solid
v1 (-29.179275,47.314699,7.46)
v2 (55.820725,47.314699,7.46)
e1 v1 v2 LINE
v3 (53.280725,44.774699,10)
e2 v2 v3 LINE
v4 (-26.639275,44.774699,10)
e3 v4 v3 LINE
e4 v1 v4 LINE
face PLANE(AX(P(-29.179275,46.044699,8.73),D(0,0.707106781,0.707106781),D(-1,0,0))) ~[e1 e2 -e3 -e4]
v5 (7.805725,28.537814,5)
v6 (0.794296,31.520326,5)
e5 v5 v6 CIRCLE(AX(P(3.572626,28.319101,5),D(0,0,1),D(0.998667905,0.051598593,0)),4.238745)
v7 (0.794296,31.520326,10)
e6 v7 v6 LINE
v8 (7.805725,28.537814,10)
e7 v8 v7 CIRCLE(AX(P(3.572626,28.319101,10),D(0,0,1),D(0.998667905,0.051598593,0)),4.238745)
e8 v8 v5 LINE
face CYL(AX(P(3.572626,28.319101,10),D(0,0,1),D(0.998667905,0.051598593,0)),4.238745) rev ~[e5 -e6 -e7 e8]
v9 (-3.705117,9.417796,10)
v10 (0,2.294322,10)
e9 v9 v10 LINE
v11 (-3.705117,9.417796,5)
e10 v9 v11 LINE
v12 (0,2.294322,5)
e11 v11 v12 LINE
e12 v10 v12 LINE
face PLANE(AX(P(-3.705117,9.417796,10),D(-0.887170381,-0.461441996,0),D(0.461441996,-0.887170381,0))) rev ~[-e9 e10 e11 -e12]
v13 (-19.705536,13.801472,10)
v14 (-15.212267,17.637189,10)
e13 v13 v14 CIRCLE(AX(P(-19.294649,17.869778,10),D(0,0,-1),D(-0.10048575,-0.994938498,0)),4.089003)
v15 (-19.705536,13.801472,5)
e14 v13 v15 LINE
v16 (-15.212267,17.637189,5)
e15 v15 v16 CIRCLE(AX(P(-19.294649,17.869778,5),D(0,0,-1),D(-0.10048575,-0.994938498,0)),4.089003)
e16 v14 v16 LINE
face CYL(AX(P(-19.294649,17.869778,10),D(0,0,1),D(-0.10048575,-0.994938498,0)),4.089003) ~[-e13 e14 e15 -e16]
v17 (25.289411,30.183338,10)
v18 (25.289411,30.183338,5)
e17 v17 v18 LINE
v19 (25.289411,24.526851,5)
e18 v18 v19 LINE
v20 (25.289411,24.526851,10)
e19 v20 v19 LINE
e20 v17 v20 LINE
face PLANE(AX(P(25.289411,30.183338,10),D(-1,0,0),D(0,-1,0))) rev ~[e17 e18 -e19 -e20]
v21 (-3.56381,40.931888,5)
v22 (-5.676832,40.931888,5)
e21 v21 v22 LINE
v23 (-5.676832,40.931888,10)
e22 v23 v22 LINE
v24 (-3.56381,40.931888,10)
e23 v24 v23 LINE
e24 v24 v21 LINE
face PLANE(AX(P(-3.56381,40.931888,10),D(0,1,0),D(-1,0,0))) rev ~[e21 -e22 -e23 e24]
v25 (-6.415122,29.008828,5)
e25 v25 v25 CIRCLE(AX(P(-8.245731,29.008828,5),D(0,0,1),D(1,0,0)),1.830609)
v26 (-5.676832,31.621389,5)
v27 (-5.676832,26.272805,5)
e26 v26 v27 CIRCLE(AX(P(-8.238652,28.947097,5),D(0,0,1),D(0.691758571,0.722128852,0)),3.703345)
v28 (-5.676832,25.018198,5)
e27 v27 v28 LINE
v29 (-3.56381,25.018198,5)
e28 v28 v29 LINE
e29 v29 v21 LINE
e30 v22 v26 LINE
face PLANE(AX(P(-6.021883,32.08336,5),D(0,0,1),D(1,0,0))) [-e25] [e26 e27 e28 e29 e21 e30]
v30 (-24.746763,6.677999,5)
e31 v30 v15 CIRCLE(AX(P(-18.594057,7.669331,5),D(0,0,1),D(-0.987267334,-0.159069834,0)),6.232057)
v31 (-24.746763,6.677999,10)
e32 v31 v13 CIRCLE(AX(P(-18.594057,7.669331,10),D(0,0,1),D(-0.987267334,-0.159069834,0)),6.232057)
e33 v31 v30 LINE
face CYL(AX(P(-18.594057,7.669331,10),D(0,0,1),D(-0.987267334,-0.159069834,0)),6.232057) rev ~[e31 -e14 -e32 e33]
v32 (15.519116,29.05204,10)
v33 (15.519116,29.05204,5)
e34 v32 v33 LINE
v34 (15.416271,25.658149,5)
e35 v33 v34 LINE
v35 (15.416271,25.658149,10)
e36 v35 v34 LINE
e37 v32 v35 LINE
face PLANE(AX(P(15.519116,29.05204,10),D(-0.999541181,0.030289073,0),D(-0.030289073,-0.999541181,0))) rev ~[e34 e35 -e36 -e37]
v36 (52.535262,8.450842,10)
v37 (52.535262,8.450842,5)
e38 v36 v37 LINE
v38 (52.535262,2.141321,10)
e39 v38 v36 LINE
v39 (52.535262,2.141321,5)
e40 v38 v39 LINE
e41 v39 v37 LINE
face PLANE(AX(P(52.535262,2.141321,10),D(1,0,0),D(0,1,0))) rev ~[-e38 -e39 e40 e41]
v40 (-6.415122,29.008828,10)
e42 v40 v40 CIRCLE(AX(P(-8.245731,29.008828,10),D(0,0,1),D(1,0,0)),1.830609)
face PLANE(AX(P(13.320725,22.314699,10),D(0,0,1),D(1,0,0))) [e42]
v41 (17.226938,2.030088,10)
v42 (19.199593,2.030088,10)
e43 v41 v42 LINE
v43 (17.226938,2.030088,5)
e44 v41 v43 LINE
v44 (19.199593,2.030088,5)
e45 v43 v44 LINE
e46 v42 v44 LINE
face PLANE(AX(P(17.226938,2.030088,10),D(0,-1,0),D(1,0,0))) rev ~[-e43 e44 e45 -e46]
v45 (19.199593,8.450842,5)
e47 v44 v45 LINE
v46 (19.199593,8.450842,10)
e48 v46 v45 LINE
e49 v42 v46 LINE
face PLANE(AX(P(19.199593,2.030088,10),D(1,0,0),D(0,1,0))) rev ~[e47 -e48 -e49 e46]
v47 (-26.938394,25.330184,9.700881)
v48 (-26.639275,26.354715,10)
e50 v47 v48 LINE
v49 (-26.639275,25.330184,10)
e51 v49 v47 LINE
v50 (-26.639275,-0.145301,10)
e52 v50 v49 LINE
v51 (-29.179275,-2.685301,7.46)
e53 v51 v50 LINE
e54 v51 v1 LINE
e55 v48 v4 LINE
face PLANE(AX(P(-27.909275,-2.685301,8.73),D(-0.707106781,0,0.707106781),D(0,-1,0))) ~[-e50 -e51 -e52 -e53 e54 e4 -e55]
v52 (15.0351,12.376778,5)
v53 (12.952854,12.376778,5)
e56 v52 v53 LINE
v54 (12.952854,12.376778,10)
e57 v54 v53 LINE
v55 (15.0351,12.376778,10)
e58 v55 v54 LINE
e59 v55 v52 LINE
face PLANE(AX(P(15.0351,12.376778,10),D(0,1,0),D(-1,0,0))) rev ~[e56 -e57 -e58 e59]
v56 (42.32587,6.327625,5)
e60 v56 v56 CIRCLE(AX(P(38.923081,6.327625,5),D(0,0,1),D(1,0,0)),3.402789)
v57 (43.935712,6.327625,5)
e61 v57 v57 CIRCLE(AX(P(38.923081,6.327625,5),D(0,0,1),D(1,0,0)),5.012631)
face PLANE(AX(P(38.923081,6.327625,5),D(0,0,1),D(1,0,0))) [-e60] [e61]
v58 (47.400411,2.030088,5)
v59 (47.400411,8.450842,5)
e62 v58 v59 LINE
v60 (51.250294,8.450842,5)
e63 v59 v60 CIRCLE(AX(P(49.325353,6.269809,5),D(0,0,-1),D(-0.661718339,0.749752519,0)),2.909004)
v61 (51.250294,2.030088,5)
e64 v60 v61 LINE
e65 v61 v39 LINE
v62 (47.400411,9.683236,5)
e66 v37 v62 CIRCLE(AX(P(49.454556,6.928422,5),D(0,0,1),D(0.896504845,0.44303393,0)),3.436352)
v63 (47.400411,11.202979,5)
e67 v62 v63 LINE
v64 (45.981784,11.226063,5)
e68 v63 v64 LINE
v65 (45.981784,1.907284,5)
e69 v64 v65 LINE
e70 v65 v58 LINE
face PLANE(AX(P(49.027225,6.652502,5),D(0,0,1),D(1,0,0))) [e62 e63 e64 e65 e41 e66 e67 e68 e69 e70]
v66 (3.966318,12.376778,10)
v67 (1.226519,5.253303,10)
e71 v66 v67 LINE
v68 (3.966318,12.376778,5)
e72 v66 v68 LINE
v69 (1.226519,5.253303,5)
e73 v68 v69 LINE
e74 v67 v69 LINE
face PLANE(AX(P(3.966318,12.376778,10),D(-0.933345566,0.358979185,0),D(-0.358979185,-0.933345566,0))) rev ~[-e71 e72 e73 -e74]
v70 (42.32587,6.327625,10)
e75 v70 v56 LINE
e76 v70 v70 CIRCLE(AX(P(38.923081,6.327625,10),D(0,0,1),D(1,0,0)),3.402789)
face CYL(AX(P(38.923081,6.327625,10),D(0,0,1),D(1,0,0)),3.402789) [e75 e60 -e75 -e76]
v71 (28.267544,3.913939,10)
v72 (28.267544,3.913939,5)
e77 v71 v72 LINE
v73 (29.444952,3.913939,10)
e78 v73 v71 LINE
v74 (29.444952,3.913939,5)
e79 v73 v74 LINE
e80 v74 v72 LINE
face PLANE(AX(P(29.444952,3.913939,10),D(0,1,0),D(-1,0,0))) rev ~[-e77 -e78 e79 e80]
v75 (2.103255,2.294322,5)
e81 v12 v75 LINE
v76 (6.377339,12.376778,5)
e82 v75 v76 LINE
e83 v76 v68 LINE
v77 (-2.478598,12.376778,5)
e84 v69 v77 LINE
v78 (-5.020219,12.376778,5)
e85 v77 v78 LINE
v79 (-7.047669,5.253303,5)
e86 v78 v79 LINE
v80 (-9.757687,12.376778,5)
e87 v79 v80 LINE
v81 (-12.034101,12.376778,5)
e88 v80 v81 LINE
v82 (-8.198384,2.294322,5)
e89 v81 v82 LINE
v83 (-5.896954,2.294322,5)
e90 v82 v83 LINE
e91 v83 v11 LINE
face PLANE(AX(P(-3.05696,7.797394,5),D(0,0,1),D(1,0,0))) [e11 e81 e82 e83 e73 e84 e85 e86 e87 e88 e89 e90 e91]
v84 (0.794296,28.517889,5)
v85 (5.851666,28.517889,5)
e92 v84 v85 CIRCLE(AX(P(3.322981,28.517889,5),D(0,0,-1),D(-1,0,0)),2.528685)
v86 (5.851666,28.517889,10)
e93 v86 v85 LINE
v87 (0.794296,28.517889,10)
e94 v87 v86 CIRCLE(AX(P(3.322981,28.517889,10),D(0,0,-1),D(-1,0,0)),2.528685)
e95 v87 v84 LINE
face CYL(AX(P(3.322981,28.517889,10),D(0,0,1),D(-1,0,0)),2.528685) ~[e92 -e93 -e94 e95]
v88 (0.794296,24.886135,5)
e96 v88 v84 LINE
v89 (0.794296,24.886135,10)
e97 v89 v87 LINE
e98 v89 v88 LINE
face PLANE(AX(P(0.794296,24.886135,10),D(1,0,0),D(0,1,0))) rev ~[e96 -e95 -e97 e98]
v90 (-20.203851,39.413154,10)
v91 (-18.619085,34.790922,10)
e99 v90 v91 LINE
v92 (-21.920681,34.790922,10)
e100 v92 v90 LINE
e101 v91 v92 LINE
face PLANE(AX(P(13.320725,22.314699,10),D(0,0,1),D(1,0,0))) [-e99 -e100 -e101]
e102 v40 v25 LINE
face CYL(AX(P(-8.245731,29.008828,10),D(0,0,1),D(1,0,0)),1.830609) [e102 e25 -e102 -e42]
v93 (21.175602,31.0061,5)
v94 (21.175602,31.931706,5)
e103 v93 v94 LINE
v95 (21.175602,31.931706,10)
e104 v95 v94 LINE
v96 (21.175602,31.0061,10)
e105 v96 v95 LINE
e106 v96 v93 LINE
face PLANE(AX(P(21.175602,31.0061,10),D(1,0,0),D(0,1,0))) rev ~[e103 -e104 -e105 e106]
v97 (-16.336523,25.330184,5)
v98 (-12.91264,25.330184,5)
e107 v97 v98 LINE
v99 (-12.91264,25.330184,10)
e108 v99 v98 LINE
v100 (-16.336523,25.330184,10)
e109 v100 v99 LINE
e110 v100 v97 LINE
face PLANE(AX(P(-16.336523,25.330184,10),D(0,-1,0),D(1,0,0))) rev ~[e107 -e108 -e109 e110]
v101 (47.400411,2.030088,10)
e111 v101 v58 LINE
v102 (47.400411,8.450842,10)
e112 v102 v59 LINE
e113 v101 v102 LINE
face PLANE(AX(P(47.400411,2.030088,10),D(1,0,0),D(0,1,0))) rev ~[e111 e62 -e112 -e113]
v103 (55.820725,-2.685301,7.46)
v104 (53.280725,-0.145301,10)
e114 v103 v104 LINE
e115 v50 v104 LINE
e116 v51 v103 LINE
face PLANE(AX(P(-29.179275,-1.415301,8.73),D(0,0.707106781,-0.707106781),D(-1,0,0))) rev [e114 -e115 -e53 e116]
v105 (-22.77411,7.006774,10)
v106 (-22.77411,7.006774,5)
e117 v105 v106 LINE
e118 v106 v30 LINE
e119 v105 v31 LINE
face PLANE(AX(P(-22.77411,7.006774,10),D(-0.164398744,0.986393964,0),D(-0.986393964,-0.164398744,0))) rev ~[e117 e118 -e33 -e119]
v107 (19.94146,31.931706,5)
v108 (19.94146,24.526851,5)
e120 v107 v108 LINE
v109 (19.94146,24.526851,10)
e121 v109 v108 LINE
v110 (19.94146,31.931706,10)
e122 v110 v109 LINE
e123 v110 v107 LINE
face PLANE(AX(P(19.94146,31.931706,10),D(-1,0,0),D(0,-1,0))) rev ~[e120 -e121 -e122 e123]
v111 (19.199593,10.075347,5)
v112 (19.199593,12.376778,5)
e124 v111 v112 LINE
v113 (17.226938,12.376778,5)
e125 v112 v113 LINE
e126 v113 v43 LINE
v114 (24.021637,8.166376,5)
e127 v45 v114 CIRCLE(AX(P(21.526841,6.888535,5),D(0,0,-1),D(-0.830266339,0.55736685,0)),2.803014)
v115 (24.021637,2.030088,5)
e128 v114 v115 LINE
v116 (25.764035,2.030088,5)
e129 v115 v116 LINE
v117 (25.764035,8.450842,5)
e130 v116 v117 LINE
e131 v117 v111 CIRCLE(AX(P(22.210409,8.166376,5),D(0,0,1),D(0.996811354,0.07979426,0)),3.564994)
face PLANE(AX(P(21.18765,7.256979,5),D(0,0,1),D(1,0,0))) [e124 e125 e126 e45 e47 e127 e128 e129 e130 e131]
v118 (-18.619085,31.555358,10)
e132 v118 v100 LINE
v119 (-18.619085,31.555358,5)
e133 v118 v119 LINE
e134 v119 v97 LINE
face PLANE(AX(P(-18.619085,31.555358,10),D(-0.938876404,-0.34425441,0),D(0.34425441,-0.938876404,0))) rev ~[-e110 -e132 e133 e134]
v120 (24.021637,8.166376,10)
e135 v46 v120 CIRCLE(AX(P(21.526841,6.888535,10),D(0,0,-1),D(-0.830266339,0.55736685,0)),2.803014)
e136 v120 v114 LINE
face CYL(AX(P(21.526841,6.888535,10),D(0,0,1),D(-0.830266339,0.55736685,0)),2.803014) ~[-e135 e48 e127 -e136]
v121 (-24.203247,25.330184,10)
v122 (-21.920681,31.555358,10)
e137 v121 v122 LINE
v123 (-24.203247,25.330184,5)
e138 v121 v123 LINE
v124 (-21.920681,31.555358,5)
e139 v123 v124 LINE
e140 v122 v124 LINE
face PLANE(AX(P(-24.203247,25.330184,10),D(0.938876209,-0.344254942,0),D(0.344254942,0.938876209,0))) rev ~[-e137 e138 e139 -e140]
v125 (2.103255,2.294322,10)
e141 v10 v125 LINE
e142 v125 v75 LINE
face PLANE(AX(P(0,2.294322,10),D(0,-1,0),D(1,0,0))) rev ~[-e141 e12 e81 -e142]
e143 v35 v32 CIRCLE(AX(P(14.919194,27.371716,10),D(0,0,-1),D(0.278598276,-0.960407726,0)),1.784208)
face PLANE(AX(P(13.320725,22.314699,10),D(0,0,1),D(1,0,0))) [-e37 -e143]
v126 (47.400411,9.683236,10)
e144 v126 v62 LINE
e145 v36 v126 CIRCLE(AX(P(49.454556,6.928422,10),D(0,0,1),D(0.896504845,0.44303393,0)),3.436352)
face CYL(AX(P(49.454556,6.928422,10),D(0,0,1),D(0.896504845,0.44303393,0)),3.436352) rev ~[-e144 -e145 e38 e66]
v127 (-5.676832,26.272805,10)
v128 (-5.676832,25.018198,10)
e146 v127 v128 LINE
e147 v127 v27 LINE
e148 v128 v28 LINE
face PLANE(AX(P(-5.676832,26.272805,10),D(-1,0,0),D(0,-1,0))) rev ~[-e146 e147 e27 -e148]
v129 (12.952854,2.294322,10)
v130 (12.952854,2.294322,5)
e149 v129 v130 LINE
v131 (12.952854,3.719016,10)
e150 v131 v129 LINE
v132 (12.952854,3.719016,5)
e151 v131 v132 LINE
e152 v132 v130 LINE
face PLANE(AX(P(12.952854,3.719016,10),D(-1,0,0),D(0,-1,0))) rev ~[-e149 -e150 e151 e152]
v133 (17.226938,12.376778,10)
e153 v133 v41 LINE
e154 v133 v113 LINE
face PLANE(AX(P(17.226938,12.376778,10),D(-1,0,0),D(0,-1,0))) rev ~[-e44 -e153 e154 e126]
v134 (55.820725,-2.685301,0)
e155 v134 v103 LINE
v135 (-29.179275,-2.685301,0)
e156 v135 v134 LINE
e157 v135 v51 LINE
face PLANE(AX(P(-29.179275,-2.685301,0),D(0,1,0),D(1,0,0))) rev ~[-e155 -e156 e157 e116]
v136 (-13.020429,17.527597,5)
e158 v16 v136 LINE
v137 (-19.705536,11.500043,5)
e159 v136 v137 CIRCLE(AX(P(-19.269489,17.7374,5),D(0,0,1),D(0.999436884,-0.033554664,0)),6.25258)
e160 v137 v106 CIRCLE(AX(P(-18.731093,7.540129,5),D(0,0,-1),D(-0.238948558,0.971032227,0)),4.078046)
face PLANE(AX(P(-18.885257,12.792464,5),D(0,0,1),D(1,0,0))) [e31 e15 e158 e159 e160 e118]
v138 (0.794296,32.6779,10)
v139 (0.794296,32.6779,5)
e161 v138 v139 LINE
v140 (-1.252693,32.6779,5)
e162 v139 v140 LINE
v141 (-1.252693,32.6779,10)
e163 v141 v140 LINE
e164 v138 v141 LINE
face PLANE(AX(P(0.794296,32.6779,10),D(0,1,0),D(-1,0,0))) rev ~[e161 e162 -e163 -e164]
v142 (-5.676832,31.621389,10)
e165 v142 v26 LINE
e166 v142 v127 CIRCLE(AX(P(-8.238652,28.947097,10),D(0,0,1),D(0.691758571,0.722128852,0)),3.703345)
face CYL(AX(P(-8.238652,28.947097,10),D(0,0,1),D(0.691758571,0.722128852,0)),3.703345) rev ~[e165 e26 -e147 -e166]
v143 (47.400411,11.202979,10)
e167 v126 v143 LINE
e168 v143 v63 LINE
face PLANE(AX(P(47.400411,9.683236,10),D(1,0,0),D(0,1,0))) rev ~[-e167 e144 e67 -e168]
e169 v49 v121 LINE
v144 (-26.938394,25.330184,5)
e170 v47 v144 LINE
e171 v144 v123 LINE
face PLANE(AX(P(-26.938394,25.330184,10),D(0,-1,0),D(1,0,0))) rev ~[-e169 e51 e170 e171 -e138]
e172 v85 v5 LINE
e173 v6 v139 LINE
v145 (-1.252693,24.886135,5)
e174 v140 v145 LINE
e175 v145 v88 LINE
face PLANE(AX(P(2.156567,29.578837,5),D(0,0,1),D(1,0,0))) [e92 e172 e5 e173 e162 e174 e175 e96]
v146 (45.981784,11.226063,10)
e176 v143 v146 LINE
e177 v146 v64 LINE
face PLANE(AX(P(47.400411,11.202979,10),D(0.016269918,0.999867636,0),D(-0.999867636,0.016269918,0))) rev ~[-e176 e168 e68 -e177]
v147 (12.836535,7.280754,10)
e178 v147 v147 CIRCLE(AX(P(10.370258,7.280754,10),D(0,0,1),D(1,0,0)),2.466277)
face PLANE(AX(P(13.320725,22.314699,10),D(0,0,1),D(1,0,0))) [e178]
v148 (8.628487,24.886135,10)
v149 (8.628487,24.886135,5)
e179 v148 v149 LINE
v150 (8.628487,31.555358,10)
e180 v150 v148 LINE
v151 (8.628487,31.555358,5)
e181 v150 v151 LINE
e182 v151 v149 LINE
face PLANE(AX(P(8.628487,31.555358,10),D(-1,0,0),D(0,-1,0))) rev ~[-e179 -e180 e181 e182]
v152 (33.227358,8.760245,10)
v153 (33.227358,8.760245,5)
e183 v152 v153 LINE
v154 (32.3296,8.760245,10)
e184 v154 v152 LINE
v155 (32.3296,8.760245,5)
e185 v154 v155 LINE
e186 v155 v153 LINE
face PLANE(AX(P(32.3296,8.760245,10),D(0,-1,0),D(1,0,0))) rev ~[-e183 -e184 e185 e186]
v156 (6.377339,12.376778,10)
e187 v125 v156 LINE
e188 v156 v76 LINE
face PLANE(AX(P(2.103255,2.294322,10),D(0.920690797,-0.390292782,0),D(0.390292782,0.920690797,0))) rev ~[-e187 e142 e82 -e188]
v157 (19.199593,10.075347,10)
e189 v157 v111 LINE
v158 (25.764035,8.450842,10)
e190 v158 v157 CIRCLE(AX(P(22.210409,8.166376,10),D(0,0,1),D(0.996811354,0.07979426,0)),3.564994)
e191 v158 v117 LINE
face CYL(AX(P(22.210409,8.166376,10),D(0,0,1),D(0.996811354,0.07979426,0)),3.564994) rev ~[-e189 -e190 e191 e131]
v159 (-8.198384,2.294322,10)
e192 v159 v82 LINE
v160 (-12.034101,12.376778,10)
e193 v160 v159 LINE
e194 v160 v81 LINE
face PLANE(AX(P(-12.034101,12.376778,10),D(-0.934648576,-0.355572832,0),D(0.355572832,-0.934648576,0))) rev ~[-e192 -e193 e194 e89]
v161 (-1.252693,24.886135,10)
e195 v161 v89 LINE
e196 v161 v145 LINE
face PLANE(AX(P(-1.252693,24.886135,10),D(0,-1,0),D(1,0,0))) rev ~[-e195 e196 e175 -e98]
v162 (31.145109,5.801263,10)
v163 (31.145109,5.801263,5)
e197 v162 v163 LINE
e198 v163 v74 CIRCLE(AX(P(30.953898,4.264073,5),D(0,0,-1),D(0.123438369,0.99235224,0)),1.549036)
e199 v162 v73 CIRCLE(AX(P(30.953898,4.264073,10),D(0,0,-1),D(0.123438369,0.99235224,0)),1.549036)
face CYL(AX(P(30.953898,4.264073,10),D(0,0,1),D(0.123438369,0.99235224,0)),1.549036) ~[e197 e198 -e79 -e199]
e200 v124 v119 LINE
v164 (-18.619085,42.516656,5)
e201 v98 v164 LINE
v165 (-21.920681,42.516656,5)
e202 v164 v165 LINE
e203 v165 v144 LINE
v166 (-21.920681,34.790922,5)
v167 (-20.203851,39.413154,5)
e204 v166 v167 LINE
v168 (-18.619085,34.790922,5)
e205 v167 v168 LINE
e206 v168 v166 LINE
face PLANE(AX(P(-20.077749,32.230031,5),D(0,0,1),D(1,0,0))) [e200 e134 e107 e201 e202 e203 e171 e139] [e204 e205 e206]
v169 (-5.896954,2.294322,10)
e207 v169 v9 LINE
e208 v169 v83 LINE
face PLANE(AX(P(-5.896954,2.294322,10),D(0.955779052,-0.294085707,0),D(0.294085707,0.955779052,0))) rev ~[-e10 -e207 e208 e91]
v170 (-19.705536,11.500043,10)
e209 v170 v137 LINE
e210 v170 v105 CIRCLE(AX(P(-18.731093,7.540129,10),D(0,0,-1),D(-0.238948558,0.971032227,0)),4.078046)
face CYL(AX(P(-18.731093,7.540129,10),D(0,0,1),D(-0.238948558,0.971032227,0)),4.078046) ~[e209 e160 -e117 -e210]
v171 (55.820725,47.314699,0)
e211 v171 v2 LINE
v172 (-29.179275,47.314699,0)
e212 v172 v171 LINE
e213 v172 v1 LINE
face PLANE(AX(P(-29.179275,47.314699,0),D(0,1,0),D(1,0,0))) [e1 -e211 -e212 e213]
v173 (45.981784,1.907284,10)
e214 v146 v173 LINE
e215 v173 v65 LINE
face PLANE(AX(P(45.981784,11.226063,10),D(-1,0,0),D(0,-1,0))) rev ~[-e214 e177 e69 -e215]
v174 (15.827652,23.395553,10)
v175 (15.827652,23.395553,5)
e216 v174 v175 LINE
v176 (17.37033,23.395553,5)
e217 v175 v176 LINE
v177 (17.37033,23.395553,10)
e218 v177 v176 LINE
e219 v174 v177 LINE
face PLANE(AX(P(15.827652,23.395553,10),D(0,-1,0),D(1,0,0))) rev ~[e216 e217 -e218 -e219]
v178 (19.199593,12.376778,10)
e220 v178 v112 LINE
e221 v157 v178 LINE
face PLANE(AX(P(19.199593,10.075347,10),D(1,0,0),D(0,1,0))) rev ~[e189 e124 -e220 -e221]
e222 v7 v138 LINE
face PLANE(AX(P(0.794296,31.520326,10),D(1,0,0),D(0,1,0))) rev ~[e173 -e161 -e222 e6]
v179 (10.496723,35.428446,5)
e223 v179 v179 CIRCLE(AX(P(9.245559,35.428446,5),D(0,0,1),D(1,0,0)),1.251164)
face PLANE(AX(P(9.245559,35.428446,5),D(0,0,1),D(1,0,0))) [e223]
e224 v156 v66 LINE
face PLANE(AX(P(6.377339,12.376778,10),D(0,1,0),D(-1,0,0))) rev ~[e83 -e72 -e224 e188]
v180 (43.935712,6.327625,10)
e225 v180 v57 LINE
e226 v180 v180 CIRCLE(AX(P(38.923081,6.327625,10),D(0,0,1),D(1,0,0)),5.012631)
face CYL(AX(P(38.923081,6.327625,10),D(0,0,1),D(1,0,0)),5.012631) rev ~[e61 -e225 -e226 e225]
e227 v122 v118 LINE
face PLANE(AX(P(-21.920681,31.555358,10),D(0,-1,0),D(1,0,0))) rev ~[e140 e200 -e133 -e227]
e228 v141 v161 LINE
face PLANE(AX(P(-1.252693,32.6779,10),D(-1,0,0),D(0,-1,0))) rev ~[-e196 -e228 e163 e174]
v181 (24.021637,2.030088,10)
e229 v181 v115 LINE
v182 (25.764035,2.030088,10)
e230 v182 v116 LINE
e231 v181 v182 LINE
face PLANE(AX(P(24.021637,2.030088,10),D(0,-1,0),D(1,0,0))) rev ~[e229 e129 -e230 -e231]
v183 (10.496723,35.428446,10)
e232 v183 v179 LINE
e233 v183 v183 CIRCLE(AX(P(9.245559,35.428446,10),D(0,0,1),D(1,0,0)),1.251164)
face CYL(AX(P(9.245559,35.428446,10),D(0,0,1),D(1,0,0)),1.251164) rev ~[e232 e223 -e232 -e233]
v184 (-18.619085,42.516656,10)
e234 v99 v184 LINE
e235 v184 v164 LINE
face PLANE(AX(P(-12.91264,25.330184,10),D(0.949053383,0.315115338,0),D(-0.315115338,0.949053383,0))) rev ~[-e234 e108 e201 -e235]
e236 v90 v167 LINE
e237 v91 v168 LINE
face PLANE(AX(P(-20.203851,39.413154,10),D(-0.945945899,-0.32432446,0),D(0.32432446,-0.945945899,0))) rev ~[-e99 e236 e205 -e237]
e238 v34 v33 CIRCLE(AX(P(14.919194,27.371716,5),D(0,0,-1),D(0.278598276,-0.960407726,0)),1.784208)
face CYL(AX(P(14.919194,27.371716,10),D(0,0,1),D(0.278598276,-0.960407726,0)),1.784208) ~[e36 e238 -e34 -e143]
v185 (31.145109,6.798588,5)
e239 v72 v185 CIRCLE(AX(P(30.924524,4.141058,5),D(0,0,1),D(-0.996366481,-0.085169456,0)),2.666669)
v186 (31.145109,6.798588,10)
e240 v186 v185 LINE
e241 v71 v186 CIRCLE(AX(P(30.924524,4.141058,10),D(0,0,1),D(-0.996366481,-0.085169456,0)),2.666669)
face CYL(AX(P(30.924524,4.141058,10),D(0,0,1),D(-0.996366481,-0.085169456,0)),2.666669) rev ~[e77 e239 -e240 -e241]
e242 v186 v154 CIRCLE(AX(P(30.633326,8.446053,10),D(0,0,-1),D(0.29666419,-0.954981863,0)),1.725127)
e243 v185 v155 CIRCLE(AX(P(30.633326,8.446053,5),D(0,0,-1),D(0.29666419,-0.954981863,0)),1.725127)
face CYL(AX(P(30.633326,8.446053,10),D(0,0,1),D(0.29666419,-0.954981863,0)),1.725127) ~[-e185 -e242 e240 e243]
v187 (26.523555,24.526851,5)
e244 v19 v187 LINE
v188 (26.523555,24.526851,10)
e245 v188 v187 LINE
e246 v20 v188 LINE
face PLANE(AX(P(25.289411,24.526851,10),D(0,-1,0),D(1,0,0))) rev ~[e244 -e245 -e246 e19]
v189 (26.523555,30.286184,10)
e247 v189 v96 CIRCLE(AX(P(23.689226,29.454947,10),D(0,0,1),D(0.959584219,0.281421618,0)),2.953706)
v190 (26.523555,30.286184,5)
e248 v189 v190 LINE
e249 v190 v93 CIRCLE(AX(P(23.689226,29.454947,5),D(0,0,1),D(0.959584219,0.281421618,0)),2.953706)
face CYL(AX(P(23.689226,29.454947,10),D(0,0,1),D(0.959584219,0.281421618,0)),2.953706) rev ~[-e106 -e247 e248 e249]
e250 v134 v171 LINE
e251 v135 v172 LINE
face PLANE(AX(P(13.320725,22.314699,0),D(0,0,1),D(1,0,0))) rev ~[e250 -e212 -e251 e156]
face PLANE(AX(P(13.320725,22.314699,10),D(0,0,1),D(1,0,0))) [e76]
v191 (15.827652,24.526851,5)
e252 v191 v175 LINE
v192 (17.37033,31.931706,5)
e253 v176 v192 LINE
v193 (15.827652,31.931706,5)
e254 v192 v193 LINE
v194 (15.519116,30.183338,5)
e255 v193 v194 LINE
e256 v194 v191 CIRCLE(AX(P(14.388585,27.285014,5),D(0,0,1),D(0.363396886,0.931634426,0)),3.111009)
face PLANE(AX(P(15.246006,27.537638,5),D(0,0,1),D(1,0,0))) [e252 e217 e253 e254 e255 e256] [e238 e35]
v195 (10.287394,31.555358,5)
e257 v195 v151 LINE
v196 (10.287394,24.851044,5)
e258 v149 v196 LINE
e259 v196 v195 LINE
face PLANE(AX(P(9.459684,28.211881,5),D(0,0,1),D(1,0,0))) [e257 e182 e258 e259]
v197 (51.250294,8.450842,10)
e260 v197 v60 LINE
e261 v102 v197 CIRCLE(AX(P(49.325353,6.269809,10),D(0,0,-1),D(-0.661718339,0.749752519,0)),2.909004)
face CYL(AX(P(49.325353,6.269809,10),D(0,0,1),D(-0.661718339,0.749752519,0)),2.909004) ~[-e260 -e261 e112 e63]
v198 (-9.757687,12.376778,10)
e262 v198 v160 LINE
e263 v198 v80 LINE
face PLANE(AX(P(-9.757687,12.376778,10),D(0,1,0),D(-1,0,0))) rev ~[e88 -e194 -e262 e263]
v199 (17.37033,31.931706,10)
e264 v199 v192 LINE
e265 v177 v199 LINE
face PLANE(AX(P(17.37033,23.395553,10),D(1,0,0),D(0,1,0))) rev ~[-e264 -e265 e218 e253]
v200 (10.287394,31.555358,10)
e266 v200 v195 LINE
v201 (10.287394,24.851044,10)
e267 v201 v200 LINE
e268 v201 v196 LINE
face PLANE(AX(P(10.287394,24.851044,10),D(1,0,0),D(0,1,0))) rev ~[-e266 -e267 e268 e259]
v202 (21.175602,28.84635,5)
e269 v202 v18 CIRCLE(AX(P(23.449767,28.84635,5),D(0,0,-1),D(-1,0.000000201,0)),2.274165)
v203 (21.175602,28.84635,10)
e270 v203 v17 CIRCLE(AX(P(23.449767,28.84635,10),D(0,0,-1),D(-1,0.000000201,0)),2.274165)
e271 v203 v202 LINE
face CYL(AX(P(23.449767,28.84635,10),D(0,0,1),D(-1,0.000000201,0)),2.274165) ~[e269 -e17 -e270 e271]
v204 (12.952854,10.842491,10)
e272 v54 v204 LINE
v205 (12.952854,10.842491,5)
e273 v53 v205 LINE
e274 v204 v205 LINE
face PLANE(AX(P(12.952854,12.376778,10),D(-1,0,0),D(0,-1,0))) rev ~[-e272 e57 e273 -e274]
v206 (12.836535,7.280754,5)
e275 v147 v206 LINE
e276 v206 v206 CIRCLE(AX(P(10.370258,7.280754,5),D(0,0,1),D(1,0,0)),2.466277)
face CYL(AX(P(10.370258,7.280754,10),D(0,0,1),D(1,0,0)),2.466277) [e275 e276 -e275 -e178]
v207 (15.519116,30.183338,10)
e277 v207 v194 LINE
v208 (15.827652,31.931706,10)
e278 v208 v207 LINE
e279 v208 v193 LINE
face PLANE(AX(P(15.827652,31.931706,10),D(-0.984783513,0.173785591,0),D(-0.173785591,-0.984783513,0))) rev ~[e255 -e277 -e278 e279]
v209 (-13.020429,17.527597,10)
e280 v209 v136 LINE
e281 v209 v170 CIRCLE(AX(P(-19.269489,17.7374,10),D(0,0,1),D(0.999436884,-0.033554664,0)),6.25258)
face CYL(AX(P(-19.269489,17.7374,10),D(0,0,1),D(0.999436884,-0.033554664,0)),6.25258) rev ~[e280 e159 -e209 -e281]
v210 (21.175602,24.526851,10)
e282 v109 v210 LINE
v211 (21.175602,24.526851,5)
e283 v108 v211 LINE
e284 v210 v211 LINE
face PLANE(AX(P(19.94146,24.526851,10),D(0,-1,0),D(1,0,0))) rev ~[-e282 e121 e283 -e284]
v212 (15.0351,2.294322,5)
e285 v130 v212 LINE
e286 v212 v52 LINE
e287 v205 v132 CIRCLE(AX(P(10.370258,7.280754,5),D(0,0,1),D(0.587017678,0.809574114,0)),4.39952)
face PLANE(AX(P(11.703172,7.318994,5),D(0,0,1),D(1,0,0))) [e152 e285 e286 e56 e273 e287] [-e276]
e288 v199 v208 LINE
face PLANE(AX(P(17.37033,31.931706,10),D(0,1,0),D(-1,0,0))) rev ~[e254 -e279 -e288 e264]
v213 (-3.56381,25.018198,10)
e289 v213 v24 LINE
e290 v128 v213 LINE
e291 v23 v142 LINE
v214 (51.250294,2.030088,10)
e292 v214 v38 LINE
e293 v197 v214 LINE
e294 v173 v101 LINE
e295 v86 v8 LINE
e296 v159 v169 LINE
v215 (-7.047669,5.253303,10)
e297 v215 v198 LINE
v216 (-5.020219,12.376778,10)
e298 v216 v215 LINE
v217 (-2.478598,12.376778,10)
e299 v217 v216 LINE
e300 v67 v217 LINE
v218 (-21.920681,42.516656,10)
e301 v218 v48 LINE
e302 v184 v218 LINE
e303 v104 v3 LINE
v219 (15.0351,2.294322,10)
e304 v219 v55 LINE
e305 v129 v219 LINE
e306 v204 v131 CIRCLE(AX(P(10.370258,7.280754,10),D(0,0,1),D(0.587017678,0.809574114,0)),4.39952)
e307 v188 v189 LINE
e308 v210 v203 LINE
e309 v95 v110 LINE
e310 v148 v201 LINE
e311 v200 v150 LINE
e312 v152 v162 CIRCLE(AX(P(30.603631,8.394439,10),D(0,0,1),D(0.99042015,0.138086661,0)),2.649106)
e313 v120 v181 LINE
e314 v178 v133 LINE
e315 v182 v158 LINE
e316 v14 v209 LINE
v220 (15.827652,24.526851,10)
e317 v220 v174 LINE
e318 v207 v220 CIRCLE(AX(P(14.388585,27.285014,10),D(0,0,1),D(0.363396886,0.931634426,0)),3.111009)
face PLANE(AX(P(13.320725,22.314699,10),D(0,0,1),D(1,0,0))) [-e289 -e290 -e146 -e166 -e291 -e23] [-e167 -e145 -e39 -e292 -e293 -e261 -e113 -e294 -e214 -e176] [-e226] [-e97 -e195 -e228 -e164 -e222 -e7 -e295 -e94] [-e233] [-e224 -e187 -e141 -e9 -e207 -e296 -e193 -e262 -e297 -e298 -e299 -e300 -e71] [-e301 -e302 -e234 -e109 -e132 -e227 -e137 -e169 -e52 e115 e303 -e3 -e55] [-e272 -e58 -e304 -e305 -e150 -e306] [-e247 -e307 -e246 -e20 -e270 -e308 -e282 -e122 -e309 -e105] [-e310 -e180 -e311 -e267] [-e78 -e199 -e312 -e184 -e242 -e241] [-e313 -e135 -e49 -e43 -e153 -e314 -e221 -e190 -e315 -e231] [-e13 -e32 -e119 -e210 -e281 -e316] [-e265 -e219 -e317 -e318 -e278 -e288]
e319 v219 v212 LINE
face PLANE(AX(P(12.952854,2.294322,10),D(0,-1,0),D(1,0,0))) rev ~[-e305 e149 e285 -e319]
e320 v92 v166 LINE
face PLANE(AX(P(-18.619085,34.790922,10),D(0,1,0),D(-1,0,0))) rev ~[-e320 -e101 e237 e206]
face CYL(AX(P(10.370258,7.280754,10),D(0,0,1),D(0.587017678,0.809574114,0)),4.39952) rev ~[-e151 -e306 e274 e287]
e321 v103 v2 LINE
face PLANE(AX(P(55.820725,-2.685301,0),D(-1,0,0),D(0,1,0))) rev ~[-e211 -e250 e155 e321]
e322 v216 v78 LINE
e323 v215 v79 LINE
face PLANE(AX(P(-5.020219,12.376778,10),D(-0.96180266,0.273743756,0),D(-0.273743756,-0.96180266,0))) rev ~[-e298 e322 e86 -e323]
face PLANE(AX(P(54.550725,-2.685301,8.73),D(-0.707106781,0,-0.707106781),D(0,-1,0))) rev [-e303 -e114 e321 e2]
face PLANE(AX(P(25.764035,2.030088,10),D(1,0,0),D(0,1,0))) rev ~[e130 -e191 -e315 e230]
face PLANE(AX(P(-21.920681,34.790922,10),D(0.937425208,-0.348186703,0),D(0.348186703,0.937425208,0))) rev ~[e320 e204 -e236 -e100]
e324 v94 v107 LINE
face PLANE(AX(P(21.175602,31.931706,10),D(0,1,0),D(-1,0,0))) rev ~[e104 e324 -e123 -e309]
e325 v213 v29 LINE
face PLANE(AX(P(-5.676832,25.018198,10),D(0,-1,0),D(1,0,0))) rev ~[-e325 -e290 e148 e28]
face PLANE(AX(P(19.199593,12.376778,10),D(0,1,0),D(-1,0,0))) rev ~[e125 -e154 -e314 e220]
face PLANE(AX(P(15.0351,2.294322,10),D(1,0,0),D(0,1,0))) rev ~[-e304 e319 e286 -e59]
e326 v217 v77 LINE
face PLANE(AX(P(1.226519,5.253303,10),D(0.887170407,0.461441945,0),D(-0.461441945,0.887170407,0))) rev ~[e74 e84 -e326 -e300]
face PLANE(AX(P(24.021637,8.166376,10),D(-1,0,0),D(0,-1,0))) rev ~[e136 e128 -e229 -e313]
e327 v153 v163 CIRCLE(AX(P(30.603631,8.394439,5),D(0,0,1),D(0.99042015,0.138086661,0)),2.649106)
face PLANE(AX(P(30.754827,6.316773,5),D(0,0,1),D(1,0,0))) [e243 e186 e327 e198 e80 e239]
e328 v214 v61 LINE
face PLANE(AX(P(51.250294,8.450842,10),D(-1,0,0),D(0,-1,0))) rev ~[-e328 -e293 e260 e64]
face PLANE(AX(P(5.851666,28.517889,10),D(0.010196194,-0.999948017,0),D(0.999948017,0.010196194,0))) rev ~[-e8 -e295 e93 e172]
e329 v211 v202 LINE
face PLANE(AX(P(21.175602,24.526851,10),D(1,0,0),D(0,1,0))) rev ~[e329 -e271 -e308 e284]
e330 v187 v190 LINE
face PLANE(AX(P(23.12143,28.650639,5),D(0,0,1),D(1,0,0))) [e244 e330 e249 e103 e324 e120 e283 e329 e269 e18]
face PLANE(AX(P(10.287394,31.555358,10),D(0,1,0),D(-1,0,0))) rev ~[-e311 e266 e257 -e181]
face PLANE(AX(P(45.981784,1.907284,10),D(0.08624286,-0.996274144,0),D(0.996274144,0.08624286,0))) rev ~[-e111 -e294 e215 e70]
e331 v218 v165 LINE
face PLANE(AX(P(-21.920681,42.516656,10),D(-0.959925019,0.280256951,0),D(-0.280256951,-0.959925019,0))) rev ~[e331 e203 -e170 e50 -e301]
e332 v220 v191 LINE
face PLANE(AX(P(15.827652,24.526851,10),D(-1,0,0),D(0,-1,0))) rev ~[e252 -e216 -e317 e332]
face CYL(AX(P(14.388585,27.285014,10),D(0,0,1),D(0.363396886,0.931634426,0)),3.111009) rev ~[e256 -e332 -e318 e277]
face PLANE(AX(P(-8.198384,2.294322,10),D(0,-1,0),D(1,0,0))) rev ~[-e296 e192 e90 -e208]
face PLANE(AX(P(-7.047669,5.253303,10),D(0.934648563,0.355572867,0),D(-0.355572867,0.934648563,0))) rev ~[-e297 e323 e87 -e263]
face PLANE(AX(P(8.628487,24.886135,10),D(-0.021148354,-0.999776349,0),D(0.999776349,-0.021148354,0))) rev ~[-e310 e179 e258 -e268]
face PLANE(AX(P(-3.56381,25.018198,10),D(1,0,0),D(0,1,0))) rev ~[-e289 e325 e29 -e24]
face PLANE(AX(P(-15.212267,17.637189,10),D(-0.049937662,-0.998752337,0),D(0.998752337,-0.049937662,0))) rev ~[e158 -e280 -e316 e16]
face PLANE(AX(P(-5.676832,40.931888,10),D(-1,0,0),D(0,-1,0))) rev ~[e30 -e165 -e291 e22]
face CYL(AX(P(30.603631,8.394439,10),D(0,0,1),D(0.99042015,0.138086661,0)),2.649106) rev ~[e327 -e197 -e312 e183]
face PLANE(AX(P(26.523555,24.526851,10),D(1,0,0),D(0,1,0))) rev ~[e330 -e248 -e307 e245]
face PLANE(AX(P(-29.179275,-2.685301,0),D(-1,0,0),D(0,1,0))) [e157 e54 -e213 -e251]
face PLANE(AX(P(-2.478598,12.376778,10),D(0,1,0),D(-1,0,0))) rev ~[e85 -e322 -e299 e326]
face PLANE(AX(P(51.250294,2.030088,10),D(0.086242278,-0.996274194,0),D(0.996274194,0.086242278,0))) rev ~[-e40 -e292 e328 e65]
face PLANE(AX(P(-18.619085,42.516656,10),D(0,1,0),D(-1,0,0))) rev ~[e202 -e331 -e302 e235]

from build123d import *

# Parameters (mm, degrees)
F0_W     = 85
F0_H     = 50
F1_DEPTH = 10
F4_SIZE  = 2.54
F2_R     = 1.830609
F2_R_2   = 1.251164
F3_R     = 2.466277
F3_R_2   = 5.012631
F3_R_3   = 3.402789
F5_DEPTH = 5


with BuildPart() as f1:
    # F0 (on Top) → F1 (new body)
    with BuildSketch(Plane.XY):
        with Locations((13.320725, 22.314699)):
            Rectangle(F0_W, F0_H)
    extrude(amount=F1_DEPTH)

    # F4
    f4_edges = [f1.edges().sort_by_distance(p)[0] for p in [
        (13.320725, 47.314699, 10),
        (-29.179275, 22.314699, 10),
        (13.320725, -2.685301, 10),
        (55.820725, 22.314699, 10),
    ]]
    chamfer(f4_edges, length=F4_SIZE)

    # F2 (on face) + F3 (on face) → F5 (cut)
    with BuildSketch(Plane.XY.offset(10)):
        Polygon((-21.920681, 42.516656), (-26.938394, 25.330184), (-24.203247, 25.330184), (-21.920681, 31.555358), (-18.619085, 31.555358), (-16.336523, 25.330184), (-12.91264, 25.330184), (-18.619085, 42.516656), align=None)
        Polygon((-20.203851, 39.413154), (-18.619085, 34.790922), (-21.920681, 34.790922), align=None, mode=Mode.SUBTRACT)
        with BuildLine():
            ThreePointArc((-5.676832, 31.621389), (-11.941997, 28.947097), (-5.676832, 26.272805))
            Line((-5.676832, 26.272805), (-5.676832, 25.018198))
            Line((-5.676832, 25.018198), (-3.56381, 25.018198))
            Line((-3.56381, 25.018198), (-3.56381, 40.931888))
            Line((-3.56381, 40.931888), (-5.676832, 40.931888))
            Line((-5.676832, 40.931888), (-5.676832, 31.621389))
        make_face()
        with Locations((-8.245731, 29.008828)):
            Circle(F2_R, mode=Mode.SUBTRACT)
        with BuildLine():
            Line((-1.252693, 32.6779), (-1.252693, 24.886135))
            Line((-1.252693, 24.886135), (0.794296, 24.886135))
            Line((0.794296, 24.886135), (0.794296, 28.517889))
            ThreePointArc((0.794296, 28.517889), (3.322981, 31.046574), (5.851666, 28.517889))
            Line((5.851666, 28.517889), (7.805725, 28.537814))
            ThreePointArc((7.805725, 28.537814), (5.231823, 32.219617), (0.794296, 31.520326))
            Line((0.794296, 31.520326), (0.794296, 32.6779))
            Line((0.794296, 32.6779), (-1.252693, 32.6779))
        make_face()
        Polygon((10.287394, 31.555358), (8.628487, 31.555358), (8.628487, 24.886135), (10.287394, 24.851044), align=None)
        with Locations((9.245559, 35.428446)):
            Circle(F2_R_2)
        with BuildLine():
            Line((15.827652, 31.931706), (15.519116, 30.183338))
            ThreePointArc((15.519116, 30.183338), (11.282193, 27.115575), (15.827652, 24.526851))
            Line((15.827652, 24.526851), (15.827652, 23.395553))
            Line((15.827652, 23.395553), (17.37033, 23.395553))
            Line((17.37033, 23.395553), (17.37033, 31.931706))
            Line((17.37033, 31.931706), (15.827652, 31.931706))
        make_face()
        with BuildLine():
            ThreePointArc((15.416271, 25.658149), (13.135805, 27.425758), (15.519116, 29.05204))
            Line((15.519116, 29.05204), (15.416271, 25.658149))
        make_face(mode=Mode.SUBTRACT)
        with BuildLine():
            Line((21.175602, 31.931706), (19.94146, 31.931706))
            Line((19.94146, 31.931706), (19.94146, 24.526851))
            Line((19.94146, 24.526851), (21.175602, 24.526851))
            Line((21.175602, 24.526851), (21.175602, 28.84635))
            ThreePointArc((21.175602, 28.84635), (22.746854, 31.009158), (25.289411, 30.183338))
            Line((25.289411, 30.183338), (25.289411, 24.526851))
            Line((25.289411, 24.526851), (26.523555, 24.526851))
            Line((26.523555, 24.526851), (26.523555, 30.286184))
            ThreePointArc((26.523555, 30.286184), (24.083285, 32.382249), (21.175602, 31.0061))
            Line((21.175602, 31.0061), (21.175602, 31.931706))
        make_face()
    with BuildSketch(Plane.XY.offset(10)):
        with BuildLine():
            Line((-15.212267, 17.637189), (-13.020429, 17.527597))
            ThreePointArc((-13.020429, 17.527597), (-23.456448, 22.38112), (-19.705536, 11.500043))
            ThreePointArc((-19.705536, 11.500043), (-15.363439, 5.240268), (-22.77411, 7.006774))
            Line((-22.77411, 7.006774), (-24.746763, 6.677999))
            ThreePointArc((-24.746763, 6.677999), (-13.507007, 4.069267), (-19.705536, 13.801472))
            ThreePointArc((-19.705536, 13.801472), (-21.949485, 20.979729), (-15.212267, 17.637189))
        make_face()
        Polygon((-9.757687, 12.376778), (-12.034101, 12.376778), (-8.198384, 2.294322), (-5.896954, 2.294322), (-3.705117, 9.417796), (0, 2.294322), (2.103255, 2.294322), (6.377339, 12.376778), (3.966318, 12.376778), (1.226519, 5.253303), (-2.478598, 12.376778), (-5.020219, 12.376778), (-7.047669, 5.253303), align=None)
        with BuildLine():
            Line((15.0351, 2.294322), (15.0351, 12.376778))
            Line((15.0351, 12.376778), (12.952854, 12.376778))
            Line((12.952854, 12.376778), (12.952854, 10.842491))
            ThreePointArc((12.952854, 10.842491), (5.970738, 7.280754), (12.952854, 3.719016))
            Line((12.952854, 3.719016), (12.952854, 2.294322))
            Line((12.952854, 2.294322), (15.0351, 2.294322))
        make_face()
        with Locations((10.370258, 7.280754)):
            Circle(F3_R, mode=Mode.SUBTRACT)
        with BuildLine():
            Line((19.199593, 12.376778), (17.226938, 12.376778))
            Line((17.226938, 12.376778), (17.226938, 2.030088))
            Line((17.226938, 2.030088), (19.199593, 2.030088))
            Line((19.199593, 2.030088), (19.199593, 8.450842))
            ThreePointArc((19.199593, 8.450842), (21.691911, 9.686684), (24.021637, 8.166376))
            Line((24.021637, 8.166376), (24.021637, 2.030088))
            Line((24.021637, 2.030088), (25.764035, 2.030088))
            Line((25.764035, 2.030088), (25.764035, 8.450842))
            ThreePointArc((25.764035, 8.450842), (23.066805, 11.626978), (19.199593, 10.075347))
            Line((19.199593, 10.075347), (19.199593, 12.376778))
        make_face()
        with BuildLine():
            Line((32.3296, 8.760245), (33.227358, 8.760245))
            ThreePointArc((33.227358, 8.760245), (28.437176, 9.918983), (31.145109, 5.801263))
            ThreePointArc((31.145109, 5.801263), (32.104813, 3.227295), (29.444952, 3.913939))
            Line((29.444952, 3.913939), (28.267544, 3.913939))
            ThreePointArc((28.267544, 3.913939), (32.81246, 2.257757), (31.145109, 6.798588))
            ThreePointArc((31.145109, 6.798588), (29.156537, 9.33777), (32.3296, 8.760245))
        make_face()
        with Locations((38.923081, 6.327625)):
            Circle(F3_R_2)
        with Locations((38.923081, 6.327625)):
            Circle(F3_R_3, mode=Mode.SUBTRACT)
        with BuildLine():
            Line((45.981784, 1.907284), (47.400411, 2.030088))
            Line((47.400411, 2.030088), (47.400411, 8.450842))
            ThreePointArc((47.400411, 8.450842), (49.325353, 9.178813), (51.250294, 8.450842))
            Line((51.250294, 8.450842), (51.250294, 2.030088))
            Line((51.250294, 2.030088), (52.535262, 2.141321))
            Line((52.535262, 2.141321), (52.535262, 8.450842))
            ThreePointArc((52.535262, 8.450842), (50.256526, 10.269882), (47.400411, 9.683236))
            Line((47.400411, 9.683236), (47.400411, 11.202979))
            Line((47.400411, 11.202979), (45.981784, 11.226063))
            Line((45.981784, 11.226063), (45.981784, 1.907284))
        make_face()
    extrude(amount=-F5_DEPTH, mode=Mode.SUBTRACT)


solid = f1.part
